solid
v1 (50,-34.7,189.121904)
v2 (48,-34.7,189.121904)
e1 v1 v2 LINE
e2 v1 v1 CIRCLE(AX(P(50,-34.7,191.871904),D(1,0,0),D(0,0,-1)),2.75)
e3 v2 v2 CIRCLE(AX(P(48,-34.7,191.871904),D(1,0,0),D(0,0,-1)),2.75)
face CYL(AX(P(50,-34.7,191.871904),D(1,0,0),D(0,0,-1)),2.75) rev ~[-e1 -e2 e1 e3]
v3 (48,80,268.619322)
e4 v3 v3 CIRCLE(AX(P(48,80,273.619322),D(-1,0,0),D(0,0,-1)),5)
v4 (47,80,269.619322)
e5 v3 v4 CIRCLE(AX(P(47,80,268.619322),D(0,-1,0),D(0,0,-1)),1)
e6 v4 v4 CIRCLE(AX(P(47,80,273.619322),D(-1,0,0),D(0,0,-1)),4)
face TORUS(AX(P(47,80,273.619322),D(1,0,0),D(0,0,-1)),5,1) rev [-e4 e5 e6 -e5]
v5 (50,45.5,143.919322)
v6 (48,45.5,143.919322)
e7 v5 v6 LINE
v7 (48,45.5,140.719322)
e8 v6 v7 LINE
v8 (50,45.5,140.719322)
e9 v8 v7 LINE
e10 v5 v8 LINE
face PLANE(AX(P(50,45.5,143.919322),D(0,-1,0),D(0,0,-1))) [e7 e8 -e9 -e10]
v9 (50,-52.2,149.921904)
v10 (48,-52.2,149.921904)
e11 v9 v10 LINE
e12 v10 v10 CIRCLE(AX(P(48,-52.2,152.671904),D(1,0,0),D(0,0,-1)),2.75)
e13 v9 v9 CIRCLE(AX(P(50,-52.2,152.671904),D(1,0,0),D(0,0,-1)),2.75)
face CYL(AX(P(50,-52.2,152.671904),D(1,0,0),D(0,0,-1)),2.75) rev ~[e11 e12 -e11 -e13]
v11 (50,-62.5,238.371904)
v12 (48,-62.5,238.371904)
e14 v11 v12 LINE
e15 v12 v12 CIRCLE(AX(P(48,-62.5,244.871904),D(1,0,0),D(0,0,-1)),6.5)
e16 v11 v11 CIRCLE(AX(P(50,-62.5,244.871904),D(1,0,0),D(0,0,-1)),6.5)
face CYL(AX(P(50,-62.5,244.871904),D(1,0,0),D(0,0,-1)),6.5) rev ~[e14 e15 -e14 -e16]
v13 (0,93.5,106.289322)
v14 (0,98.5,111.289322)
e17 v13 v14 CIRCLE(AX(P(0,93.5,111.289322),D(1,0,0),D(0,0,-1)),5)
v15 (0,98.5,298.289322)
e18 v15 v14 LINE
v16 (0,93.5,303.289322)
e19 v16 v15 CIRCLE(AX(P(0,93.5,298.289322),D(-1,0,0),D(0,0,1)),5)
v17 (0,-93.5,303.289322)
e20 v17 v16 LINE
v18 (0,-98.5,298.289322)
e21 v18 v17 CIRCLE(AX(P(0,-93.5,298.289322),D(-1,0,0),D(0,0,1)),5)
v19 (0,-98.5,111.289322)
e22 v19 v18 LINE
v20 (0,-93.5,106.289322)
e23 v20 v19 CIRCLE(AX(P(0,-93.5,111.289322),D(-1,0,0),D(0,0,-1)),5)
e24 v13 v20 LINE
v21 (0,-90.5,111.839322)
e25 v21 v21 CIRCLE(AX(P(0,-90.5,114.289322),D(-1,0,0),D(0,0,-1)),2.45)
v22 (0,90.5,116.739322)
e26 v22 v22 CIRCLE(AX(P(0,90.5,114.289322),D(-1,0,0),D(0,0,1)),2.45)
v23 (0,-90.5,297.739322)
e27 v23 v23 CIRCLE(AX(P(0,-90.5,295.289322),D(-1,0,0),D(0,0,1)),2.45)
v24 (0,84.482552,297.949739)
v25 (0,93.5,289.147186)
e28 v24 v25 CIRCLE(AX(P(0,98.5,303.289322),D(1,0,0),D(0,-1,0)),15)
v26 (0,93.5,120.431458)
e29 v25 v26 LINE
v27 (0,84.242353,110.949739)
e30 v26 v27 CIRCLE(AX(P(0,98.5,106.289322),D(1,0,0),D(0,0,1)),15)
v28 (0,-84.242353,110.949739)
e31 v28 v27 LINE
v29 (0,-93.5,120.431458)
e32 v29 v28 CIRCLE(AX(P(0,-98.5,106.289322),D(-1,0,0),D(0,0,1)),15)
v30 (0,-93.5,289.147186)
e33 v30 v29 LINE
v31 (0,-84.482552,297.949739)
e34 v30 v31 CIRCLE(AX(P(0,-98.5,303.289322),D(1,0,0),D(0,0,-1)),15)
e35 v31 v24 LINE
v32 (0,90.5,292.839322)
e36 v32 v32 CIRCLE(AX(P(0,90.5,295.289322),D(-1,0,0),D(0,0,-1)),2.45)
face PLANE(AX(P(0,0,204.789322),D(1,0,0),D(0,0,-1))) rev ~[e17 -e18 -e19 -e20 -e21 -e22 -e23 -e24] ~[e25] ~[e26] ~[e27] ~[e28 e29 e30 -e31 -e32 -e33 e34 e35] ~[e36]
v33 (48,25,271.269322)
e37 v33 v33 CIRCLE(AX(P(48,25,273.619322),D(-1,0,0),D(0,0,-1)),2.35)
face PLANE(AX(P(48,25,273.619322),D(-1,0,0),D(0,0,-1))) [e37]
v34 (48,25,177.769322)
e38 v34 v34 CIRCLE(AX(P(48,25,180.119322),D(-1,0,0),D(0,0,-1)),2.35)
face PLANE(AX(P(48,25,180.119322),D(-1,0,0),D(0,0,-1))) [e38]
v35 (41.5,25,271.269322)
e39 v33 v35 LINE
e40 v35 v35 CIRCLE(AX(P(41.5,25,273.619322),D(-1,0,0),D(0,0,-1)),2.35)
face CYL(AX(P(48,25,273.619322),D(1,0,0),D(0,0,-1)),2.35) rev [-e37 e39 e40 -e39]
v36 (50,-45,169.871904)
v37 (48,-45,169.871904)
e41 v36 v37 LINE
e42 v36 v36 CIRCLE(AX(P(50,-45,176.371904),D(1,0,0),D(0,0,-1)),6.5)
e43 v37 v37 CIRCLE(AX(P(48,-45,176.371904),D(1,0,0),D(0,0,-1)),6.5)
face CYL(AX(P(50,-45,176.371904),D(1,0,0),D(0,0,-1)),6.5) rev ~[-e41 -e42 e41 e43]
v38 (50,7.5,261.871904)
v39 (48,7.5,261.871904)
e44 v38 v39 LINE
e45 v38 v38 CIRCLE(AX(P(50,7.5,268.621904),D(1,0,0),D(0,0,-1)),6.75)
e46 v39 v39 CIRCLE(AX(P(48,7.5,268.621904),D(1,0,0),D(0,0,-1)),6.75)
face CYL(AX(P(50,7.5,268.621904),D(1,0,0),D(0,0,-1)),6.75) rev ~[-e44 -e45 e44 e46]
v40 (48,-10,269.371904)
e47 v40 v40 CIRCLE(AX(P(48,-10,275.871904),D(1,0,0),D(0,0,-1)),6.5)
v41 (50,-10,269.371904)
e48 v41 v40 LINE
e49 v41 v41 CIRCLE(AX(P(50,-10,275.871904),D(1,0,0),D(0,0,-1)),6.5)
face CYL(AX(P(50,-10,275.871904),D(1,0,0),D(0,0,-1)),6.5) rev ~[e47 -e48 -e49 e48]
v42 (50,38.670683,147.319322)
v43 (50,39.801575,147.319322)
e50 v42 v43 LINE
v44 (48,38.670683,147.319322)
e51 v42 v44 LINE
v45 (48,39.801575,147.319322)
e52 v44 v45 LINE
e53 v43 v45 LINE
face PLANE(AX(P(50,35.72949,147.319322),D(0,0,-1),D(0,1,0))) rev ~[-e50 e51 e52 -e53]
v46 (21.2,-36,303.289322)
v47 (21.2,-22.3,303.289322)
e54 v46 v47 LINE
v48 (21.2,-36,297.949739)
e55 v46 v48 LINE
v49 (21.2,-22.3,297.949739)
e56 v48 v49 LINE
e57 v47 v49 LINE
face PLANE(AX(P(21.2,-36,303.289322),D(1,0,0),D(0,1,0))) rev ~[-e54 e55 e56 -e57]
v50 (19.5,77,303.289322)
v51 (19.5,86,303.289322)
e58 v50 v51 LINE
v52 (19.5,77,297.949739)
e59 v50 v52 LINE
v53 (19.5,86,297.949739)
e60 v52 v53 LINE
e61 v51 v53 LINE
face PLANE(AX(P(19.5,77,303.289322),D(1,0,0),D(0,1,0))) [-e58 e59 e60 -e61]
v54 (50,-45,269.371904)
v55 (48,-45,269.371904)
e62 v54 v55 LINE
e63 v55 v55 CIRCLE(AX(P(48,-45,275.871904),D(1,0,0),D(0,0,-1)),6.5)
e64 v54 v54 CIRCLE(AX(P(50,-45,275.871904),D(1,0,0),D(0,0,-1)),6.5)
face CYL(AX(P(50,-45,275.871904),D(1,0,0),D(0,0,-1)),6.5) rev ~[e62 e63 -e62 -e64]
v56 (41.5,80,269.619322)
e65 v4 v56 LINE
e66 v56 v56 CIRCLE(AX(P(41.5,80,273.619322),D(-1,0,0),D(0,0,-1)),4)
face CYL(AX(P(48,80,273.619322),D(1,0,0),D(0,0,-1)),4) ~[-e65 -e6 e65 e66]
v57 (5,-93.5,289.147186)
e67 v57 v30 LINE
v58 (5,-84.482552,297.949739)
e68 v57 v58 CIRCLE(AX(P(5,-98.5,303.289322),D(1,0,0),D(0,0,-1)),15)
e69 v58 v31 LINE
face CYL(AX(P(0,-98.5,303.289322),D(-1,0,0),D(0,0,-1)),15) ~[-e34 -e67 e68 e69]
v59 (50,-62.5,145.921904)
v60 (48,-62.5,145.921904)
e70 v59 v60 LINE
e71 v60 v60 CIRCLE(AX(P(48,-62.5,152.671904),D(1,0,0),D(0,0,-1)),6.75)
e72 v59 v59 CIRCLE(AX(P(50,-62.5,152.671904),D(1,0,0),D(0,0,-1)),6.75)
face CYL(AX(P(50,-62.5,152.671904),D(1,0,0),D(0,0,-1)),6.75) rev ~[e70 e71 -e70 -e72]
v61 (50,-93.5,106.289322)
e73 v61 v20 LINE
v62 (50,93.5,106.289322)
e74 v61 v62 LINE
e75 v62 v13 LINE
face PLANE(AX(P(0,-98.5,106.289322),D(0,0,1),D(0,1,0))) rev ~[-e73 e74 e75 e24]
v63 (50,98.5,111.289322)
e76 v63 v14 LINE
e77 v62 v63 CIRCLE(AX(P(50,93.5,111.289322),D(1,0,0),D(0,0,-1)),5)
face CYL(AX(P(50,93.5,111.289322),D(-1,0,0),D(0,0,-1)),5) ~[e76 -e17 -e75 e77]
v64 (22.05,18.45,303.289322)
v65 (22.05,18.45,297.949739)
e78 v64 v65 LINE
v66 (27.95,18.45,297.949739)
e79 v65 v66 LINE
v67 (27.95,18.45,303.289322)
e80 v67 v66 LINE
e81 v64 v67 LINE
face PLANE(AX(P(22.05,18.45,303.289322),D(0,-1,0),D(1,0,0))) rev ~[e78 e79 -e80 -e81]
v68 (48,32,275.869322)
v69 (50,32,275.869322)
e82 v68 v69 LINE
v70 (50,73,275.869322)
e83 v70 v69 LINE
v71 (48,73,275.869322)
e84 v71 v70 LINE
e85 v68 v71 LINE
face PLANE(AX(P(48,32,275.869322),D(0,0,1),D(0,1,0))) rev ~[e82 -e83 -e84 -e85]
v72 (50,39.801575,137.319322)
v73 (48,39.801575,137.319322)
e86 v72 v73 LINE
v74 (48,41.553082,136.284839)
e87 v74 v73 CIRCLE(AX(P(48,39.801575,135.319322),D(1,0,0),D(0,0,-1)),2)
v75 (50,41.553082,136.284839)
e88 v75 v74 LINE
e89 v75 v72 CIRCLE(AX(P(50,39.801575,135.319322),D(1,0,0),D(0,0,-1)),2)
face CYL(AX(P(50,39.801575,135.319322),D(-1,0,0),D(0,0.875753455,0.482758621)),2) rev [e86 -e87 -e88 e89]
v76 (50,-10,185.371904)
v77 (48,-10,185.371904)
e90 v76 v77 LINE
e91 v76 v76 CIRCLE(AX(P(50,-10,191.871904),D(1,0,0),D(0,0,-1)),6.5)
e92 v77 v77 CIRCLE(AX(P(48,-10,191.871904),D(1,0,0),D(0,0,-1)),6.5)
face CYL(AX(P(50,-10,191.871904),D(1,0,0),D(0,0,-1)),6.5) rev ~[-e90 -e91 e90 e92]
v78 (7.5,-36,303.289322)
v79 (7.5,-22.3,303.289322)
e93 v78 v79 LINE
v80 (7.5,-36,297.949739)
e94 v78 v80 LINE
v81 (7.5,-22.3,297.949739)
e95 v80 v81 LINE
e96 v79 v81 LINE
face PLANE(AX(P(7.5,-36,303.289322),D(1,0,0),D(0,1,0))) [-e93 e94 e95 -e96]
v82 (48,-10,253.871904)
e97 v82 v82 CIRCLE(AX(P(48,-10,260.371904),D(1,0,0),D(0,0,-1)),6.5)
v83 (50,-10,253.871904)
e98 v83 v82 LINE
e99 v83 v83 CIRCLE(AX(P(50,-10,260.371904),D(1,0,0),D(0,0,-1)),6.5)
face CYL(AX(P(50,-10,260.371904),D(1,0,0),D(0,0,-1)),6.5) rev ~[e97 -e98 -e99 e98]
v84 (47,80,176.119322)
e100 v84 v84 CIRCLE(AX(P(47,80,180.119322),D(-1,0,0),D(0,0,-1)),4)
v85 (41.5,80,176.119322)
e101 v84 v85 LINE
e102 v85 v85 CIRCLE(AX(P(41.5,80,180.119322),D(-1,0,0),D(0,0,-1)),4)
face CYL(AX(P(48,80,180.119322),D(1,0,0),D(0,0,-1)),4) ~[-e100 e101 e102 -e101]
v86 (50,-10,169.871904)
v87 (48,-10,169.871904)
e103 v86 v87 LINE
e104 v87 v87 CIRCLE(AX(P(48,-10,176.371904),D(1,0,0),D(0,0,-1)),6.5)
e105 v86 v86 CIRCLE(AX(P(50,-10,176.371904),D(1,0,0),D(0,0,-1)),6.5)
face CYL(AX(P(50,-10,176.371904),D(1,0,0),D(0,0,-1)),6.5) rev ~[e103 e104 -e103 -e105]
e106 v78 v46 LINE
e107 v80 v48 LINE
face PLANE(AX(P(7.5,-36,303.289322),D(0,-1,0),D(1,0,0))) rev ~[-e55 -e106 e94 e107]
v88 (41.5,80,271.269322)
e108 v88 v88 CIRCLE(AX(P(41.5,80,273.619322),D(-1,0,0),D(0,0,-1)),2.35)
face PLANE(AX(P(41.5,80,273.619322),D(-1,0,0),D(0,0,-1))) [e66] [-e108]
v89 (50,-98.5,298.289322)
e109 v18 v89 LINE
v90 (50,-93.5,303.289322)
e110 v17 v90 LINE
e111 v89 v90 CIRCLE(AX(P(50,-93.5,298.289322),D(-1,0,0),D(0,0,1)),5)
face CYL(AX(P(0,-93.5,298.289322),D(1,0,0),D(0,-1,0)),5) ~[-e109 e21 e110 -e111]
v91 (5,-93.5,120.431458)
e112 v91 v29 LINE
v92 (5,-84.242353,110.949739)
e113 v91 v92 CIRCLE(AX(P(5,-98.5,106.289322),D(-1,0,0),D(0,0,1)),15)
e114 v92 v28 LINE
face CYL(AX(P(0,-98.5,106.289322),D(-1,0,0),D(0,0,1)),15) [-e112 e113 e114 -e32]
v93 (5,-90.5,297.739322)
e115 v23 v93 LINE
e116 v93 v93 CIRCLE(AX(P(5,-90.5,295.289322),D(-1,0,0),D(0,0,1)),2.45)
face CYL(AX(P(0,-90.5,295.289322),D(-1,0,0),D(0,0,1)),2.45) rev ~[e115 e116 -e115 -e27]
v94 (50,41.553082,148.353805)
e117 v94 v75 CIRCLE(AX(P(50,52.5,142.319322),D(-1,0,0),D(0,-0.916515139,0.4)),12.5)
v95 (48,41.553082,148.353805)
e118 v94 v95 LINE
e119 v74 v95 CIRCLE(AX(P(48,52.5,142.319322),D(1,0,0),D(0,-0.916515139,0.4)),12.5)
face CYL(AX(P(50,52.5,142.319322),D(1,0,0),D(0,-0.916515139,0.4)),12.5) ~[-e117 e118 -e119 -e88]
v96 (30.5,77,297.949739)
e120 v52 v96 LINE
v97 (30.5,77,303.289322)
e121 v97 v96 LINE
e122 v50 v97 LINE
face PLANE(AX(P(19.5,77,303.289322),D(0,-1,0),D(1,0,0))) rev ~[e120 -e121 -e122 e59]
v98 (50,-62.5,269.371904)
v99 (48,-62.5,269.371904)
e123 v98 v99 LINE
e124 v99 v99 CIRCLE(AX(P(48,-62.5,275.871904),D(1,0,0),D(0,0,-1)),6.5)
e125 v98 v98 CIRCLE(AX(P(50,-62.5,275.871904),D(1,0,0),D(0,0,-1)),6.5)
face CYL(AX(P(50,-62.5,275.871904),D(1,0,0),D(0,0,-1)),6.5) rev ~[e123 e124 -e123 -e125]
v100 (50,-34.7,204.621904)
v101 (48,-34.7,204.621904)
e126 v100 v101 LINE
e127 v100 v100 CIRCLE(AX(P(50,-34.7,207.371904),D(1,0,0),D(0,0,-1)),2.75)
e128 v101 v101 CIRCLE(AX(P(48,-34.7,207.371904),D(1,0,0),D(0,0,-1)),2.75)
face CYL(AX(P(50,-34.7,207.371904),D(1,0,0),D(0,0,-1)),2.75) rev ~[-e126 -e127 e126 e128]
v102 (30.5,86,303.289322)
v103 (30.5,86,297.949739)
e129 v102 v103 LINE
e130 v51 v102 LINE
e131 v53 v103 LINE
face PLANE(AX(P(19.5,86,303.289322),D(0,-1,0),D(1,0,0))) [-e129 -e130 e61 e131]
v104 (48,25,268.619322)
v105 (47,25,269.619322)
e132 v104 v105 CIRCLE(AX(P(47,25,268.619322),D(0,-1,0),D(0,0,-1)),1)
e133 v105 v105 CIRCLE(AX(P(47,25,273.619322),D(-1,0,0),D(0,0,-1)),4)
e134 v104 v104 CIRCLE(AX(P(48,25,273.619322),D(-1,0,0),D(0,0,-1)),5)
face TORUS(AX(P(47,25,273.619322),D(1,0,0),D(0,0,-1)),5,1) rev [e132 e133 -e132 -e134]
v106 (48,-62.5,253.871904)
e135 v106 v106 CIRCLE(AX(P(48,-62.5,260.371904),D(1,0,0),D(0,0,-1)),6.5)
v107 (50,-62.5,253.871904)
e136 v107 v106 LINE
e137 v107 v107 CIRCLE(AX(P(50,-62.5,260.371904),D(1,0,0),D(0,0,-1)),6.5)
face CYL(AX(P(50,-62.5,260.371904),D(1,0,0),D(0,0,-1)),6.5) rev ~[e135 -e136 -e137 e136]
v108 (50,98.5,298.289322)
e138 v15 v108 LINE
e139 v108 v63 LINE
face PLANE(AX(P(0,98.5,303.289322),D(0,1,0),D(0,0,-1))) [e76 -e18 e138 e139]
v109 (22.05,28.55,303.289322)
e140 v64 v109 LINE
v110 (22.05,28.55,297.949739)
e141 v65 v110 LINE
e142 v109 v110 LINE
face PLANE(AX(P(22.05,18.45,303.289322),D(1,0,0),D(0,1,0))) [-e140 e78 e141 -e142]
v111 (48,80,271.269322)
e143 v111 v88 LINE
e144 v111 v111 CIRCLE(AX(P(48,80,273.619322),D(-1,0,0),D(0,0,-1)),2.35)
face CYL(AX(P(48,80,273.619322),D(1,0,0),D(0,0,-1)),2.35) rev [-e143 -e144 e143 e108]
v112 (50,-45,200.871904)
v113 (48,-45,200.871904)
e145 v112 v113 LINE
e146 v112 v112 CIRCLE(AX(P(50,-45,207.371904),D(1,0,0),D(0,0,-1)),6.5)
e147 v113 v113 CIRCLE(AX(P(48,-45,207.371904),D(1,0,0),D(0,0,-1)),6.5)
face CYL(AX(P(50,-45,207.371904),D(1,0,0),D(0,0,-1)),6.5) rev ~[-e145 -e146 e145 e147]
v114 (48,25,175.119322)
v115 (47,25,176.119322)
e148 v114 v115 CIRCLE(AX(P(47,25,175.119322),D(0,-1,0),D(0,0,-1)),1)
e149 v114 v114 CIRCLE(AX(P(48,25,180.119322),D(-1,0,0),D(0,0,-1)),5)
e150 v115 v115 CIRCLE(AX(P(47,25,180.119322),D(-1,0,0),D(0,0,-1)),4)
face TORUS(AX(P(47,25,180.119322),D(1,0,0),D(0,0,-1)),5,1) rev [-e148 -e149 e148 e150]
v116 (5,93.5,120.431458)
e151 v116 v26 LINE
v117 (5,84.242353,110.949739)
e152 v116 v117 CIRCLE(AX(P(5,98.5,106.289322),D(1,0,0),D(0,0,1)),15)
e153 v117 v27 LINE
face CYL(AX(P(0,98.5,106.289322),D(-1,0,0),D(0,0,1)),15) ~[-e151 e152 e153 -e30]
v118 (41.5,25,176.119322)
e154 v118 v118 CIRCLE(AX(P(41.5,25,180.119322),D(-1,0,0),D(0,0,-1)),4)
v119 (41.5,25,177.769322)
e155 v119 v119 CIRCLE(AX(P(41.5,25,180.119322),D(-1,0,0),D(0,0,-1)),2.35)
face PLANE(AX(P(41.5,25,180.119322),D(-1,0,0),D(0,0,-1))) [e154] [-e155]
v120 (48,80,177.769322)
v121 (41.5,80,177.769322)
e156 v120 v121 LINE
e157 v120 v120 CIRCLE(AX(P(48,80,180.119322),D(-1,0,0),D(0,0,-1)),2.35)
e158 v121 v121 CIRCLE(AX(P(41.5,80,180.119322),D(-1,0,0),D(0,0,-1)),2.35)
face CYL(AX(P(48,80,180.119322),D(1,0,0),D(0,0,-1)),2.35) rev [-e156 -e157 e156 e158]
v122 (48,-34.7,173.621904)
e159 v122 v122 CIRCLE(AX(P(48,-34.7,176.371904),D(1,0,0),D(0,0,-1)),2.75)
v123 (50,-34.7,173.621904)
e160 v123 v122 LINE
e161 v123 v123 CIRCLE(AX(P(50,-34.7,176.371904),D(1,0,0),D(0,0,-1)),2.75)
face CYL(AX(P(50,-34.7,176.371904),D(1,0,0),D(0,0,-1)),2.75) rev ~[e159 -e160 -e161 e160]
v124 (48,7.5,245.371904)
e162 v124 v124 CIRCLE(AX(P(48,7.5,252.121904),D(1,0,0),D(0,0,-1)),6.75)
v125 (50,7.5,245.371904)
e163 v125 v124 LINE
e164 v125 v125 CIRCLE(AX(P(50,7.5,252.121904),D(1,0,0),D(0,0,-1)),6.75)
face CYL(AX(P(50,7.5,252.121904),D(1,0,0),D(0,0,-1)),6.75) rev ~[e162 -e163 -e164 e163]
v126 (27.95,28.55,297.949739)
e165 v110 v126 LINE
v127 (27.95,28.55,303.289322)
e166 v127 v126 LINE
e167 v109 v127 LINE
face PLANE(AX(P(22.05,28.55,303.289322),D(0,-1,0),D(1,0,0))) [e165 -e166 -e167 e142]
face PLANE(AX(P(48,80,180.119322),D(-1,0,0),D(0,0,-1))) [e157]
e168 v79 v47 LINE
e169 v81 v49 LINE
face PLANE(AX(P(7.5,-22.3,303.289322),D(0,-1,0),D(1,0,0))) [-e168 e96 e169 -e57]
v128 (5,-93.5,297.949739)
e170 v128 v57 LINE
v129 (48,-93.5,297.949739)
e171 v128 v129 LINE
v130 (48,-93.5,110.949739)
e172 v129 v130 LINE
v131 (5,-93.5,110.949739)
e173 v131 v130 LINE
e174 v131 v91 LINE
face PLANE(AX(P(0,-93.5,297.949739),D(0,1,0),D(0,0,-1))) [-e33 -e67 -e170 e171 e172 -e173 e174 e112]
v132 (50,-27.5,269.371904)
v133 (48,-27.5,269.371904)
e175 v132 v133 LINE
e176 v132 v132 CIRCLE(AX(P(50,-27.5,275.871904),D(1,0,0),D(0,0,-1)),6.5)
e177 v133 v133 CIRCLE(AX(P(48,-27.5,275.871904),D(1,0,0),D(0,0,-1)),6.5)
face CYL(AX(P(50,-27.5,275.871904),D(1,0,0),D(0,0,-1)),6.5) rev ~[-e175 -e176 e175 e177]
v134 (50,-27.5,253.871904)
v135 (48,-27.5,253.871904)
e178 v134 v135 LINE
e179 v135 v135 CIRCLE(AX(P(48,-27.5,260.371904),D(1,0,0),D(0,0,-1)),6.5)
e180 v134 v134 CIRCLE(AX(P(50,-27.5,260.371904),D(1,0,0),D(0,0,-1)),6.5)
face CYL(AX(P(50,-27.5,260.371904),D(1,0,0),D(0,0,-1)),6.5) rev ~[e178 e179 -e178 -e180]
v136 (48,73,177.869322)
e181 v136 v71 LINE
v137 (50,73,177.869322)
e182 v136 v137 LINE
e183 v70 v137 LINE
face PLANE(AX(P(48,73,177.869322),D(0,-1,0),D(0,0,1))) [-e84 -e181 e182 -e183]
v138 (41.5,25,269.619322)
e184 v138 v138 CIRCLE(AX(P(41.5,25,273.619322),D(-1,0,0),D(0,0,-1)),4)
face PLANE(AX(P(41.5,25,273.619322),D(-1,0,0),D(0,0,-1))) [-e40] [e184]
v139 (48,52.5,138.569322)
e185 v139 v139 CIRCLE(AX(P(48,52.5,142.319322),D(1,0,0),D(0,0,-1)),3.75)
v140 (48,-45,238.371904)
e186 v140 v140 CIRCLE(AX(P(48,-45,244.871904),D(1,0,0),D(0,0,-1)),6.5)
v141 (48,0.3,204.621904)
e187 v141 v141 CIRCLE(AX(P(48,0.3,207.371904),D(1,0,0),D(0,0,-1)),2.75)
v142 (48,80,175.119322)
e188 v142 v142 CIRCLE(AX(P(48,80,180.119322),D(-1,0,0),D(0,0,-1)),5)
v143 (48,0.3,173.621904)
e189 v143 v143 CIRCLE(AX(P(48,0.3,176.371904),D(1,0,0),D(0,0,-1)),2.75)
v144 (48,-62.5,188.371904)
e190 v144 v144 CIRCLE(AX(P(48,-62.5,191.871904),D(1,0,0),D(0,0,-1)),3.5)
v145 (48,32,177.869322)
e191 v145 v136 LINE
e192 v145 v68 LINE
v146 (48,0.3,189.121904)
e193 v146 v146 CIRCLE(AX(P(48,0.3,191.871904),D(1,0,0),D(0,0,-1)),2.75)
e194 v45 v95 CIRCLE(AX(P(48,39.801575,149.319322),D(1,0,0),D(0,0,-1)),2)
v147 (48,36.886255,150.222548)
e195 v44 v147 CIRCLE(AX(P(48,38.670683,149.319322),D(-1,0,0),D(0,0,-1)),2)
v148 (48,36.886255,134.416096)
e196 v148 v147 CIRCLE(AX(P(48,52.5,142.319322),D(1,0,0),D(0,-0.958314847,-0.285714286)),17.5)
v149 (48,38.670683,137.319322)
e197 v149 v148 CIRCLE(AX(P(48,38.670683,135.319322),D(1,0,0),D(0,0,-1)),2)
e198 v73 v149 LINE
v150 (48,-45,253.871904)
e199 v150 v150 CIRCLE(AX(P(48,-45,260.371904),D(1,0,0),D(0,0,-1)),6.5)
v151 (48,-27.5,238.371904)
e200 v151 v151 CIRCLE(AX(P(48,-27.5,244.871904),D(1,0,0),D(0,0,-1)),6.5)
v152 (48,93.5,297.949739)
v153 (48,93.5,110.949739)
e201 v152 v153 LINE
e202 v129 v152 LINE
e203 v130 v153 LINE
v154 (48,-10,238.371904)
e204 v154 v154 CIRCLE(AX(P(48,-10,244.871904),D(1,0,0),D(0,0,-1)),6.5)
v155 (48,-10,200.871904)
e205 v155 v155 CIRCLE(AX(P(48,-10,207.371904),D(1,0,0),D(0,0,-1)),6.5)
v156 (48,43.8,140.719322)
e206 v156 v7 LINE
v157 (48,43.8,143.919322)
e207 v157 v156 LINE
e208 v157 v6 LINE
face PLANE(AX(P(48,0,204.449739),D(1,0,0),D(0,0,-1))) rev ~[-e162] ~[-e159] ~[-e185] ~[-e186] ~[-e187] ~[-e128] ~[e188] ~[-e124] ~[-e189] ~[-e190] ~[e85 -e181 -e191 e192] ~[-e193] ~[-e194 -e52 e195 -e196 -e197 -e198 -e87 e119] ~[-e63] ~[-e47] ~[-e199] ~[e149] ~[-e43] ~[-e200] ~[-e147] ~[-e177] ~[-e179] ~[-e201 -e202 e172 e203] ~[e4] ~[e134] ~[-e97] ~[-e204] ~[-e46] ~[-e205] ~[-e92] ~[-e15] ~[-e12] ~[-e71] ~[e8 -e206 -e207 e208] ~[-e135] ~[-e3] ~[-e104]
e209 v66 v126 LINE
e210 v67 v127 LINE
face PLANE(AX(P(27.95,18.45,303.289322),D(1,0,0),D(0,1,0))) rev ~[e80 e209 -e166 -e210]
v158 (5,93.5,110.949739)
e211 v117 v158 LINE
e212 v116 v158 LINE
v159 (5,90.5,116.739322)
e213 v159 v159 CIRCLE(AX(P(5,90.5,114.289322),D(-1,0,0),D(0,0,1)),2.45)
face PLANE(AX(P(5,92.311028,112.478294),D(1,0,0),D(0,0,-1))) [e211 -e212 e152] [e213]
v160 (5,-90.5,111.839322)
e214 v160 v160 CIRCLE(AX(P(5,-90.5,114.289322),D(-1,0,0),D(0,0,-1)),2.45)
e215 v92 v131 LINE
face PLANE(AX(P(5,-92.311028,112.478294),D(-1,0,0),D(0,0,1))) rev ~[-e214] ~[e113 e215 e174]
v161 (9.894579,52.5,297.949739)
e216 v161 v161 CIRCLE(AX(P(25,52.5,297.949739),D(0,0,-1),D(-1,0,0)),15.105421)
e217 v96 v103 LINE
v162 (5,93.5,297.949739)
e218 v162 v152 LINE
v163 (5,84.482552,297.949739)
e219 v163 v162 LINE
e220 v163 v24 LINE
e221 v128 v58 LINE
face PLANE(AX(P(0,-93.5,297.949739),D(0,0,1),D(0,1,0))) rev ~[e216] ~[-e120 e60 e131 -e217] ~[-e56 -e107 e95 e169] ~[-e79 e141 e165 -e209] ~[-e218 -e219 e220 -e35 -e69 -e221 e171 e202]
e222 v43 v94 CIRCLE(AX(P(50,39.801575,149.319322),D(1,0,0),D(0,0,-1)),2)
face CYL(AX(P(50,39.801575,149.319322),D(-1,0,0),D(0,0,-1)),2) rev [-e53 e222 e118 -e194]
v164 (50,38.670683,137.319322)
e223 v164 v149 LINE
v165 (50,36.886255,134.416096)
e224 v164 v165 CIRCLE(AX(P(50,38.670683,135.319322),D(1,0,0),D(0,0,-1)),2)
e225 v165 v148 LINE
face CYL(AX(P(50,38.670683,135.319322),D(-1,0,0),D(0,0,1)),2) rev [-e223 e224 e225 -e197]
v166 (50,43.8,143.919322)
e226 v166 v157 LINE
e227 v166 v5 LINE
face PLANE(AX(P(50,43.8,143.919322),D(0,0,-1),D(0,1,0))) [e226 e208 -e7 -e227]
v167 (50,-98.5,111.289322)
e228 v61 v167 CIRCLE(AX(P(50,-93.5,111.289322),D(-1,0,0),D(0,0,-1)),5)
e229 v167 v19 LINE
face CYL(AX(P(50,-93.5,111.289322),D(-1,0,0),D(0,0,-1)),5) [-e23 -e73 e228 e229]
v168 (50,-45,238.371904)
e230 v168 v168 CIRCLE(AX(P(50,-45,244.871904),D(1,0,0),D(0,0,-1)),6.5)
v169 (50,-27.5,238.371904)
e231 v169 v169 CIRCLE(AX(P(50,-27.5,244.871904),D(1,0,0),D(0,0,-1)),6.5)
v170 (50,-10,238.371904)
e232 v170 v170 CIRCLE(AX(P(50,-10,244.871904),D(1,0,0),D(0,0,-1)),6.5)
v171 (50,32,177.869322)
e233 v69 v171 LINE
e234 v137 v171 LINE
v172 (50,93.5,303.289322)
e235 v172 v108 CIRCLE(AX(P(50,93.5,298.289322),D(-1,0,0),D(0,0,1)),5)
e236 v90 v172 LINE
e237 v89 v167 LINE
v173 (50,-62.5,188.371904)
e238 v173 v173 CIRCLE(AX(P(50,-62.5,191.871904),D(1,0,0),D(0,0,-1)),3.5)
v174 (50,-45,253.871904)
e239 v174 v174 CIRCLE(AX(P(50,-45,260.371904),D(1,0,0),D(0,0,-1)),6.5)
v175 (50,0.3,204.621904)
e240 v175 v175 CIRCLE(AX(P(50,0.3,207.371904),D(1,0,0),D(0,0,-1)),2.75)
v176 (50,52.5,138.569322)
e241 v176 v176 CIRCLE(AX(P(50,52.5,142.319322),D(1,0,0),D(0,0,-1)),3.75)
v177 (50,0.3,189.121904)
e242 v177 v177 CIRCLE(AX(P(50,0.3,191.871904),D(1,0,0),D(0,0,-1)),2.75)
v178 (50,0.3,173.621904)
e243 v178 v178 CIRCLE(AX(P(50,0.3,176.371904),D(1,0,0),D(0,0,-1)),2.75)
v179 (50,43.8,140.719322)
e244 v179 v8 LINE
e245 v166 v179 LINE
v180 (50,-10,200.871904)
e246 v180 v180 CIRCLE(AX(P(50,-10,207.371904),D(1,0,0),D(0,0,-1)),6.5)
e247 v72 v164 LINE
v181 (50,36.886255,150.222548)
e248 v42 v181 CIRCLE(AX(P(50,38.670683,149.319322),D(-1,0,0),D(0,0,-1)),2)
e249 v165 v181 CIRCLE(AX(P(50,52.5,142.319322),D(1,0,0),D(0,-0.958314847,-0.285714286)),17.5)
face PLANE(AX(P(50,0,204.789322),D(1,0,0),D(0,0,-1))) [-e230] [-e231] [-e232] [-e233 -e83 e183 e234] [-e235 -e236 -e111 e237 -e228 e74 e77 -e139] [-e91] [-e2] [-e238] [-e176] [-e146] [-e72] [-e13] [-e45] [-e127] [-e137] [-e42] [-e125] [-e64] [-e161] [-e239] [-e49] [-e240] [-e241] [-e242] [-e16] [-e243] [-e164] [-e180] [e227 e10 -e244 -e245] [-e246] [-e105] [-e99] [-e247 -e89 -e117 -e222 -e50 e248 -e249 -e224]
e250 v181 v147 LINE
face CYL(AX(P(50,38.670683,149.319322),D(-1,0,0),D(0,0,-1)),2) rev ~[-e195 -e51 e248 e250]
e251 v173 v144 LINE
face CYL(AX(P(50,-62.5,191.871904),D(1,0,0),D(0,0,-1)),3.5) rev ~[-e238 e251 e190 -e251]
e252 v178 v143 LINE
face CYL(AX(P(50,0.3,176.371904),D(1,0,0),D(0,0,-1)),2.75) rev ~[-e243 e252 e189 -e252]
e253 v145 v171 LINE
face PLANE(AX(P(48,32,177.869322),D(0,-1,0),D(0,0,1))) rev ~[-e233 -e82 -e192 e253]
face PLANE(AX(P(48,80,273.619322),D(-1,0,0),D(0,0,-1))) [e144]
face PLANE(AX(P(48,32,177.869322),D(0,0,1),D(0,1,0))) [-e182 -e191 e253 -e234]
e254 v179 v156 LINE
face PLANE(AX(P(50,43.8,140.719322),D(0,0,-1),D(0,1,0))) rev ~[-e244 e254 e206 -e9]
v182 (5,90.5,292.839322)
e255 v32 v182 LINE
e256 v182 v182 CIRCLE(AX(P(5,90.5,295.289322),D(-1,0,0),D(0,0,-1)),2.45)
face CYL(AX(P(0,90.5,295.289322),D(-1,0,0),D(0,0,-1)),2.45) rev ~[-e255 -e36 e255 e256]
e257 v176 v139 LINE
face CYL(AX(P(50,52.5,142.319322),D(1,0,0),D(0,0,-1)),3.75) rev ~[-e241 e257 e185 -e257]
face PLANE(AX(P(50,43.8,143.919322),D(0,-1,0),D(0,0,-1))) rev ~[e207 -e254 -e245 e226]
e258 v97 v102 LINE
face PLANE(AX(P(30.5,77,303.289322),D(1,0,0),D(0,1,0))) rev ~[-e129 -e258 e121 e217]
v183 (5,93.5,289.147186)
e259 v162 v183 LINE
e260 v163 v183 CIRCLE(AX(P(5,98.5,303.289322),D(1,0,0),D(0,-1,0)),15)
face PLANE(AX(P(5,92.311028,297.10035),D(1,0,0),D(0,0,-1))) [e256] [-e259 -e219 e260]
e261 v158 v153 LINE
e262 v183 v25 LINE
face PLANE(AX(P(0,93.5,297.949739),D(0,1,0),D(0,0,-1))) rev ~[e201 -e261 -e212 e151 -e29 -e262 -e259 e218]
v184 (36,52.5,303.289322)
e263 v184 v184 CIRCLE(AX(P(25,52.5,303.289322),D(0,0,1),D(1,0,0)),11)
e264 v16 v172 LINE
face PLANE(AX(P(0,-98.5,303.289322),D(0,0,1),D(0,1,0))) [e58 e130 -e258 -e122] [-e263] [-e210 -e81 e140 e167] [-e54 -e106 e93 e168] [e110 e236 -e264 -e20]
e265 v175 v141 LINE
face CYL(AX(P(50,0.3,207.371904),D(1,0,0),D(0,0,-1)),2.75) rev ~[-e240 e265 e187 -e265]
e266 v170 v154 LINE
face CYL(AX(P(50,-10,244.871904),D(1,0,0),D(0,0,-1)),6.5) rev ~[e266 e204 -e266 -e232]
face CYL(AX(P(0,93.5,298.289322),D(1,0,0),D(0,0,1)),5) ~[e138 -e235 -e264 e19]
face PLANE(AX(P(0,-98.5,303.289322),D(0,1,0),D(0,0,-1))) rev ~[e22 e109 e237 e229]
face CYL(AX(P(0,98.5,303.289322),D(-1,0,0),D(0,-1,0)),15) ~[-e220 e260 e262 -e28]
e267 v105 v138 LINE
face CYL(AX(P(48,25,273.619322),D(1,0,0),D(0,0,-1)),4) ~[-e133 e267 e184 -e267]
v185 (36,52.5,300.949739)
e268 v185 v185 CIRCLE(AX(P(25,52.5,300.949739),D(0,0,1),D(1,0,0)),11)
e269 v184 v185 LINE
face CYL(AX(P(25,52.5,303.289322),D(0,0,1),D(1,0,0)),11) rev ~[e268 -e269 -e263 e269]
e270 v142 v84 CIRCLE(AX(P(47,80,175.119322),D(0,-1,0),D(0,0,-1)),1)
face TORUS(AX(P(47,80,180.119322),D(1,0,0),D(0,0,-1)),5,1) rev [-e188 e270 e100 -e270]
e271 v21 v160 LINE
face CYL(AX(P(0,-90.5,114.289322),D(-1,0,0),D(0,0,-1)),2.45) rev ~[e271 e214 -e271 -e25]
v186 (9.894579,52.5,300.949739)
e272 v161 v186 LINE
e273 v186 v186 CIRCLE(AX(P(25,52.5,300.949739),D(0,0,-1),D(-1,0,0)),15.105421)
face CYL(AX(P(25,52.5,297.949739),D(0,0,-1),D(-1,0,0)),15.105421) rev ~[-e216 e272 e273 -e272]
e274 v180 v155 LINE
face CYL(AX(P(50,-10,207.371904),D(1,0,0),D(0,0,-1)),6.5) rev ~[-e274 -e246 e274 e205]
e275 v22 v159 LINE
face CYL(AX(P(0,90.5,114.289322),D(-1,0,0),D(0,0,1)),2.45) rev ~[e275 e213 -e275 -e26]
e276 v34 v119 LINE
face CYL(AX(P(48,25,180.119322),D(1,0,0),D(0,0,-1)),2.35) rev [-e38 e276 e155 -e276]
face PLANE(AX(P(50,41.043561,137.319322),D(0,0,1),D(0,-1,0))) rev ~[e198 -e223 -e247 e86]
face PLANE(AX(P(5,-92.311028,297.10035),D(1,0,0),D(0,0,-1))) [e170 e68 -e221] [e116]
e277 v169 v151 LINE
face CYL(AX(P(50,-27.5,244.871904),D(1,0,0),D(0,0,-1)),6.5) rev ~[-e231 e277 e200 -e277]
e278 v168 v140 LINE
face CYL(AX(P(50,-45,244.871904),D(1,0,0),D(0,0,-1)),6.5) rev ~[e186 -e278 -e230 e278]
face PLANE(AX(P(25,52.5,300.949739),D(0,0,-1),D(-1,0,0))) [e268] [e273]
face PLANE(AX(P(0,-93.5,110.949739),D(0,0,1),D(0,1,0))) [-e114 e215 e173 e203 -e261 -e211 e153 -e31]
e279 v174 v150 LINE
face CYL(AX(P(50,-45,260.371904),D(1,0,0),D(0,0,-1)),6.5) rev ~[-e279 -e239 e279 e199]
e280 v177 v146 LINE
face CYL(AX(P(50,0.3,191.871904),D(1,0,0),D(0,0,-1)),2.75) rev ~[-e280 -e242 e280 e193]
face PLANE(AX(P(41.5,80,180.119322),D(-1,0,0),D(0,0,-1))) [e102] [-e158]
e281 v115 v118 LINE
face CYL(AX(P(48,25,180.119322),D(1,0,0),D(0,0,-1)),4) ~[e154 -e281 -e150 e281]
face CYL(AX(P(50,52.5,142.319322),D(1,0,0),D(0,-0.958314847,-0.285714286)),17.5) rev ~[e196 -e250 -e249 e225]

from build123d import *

# Parameters (mm, degrees)
SKETCH1_W           = 197
SKETCH1_H           = 197
BOSS_EXTRUDE1_DEPTH = 50
SKETCH6_W           = 187
SKETCH6_H           = 187
CUT_EXTRUDE1_DEPTH  = 48
SKETCH8_W           = 98
SKETCH8_H           = 41
CUT_EXTRUDE2_DEPTH  = 25
SKETCH9_R           = 4
BOSS_EXTRUDE2_DEPTH = 6.5
FILLET3_R           = 1
SKETCH15_R          = 6.5
SKETCH15_R_2        = 6.75
SKETCH15_R_3        = 2.75
SKETCH15_R_4        = 3.5
CUT_EXTRUDE7_DEPTH  = 10
SKETCH12_R          = 3.75
SKETCH12_W          = 3.2
SKETCH12_H          = 1.7
CUT_EXTRUDE8_DEPTH  = 10
SKETCH18_R          = 11
CUT_EXTRUDE10_DEPTH = 6
SKETCH19_W          = 11
SKETCH19_H          = 9
SKETCH19_W_2        = 5.9
SKETCH19_H_2        = 10.1
CUT_EXTRUDE11_DEPTH = 6
FILLET6_R           = 2
SKETCH21_R          = 2.45
BOSS_EXTRUDE4_DEPTH = 5
FILLET7_R           = 5
SKETCH22_W          = 13.7
SKETCH22_H          = 13.7
CUT_EXTRUDE14_DEPTH = 10
SKETCH27_R          = 15.105421197
CUT_EXTRUDE17_DEPTH = 3
SKETCH28_R          = 2.35
CUT_EXTRUDE18_DEPTH = 6.5


with BuildPart() as part:
    # Sketch1 → Boss-Extrude1 (new body)
    with BuildSketch(Plane(origin=(0, 0, 0), x_dir=(0, 0, -1), z_dir=(1, 0, 0))):
        with Locations((-204.789321881, 0)):
            Rectangle(SKETCH1_W, SKETCH1_H)
    extrude(amount=BOSS_EXTRUDE1_DEPTH)

    # Sketch6 → Cut-Extrude1 (cut)
    with BuildSketch(Plane(origin=(0, 0, 0), x_dir=(0, 0, -1), z_dir=(1, 0, 0))):
        with Locations((-204.449739467, 0)):
            Rectangle(SKETCH6_W, SKETCH6_H)
    extrude(amount=CUT_EXTRUDE1_DEPTH, mode=Mode.SUBTRACT)

    # Sketch8 → Cut-Extrude2 (cut)
    with BuildSketch(Plane.ZY.offset(-48)):
        with Locations((226.869321881, 52.5)):
            Rectangle(SKETCH8_W, SKETCH8_H)
    extrude(amount=-CUT_EXTRUDE2_DEPTH, mode=Mode.SUBTRACT)

    # Sketch9 → Boss-Extrude2 (add)
    with BuildSketch(Plane.ZY.offset(-48)):
        with Locations(Location((180.119321881, 25, 0), (0, 0, 180))):
            Circle(SKETCH9_R)
        with Locations(Location((180.119321881, 80, 0), (0, 0, 180))):
            Circle(SKETCH9_R)
        with Locations(Location((273.619321881, 80, 0), (0, 0, 180))):
            Circle(SKETCH9_R)
        with Locations(Location((273.619321881, 25, 0), (0, 0, 180))):
            Circle(SKETCH9_R)
    extrude(amount=BOSS_EXTRUDE2_DEPTH)

    # Fillet3
    fillet3_edges = [part.edges().sort_by_distance(p)[0] for p in [
        (48, 25, 184.119321881),
        (48, 80, 184.119321881),
        (48, 80, 277.619321881),
        (48, 25, 277.619321881),
    ]]
    fillet(fillet3_edges, radius=FILLET3_R)

    # Sketch15 → Cut-Extrude7 (cut)
    with BuildSketch(Plane(origin=(50, 0, 0), x_dir=(0, 0, -1), z_dir=(1, 0, 0))):
        with Locations((-275.871904419, -62.5)):
            Circle(SKETCH15_R)
        with Locations((-275.871904419, -45)):
            Circle(SKETCH15_R)
        with Locations((-275.871904419, -27.5)):
            Circle(SKETCH15_R)
        with Locations((-275.871904419, -10)):
            Circle(SKETCH15_R)
        with Locations((-260.371904419, -62.5)):
            Circle(SKETCH15_R)
        with Locations((-260.371904419, -45)):
            Circle(SKETCH15_R)
        with Locations((-260.371904419, -27.5)):
            Circle(SKETCH15_R)
        with Locations((-260.371904419, -10)):
            Circle(SKETCH15_R)
        with Locations((-244.871904419, -62.5)):
            Circle(SKETCH15_R)
        with Locations((-244.871904419, -45)):
            Circle(SKETCH15_R)
        with Locations((-244.871904419, -27.5)):
            Circle(SKETCH15_R)
        with Locations((-244.871904419, -10)):
            Circle(SKETCH15_R)
        with Locations((-268.621904419, 7.5)):
            Circle(SKETCH15_R_2)
        with Locations((-252.121904419, 7.5)):
            Circle(SKETCH15_R_2)
        with Locations((-207.371904419, -10)):
            Circle(SKETCH15_R)
        with Locations((-191.871904419, -10)):
            Circle(SKETCH15_R)
        with Locations((-176.371904419, -10)):
            Circle(SKETCH15_R)
        with Locations((-207.371904419, -45)):
            Circle(SKETCH15_R)
        with Locations((-176.371904419, -45)):
            Circle(SKETCH15_R)
        with Locations((-176.371904419, -34.7)):
            Circle(SKETCH15_R_3)
        with Locations((-207.371904419, -34.7)):
            Circle(SKETCH15_R_3)
        with Locations((-207.371904419, 0.3)):
            Circle(SKETCH15_R_3)
        with Locations((-191.871904419, 0.3)):
            Circle(SKETCH15_R_3)
        with Locations((-176.371904419, 0.3)):
            Circle(SKETCH15_R_3)
        with Locations((-152.671904419, -52.2)):
            Circle(SKETCH15_R_3)
        with Locations((-191.871904419, -62.5)):
            Circle(SKETCH15_R_4)
        with Locations((-191.871904419, -34.7)):
            Circle(SKETCH15_R_3)
        with Locations((-152.671904419, -62.5)):
            Circle(SKETCH15_R_2)
    extrude(amount=-CUT_EXTRUDE7_DEPTH, mode=Mode.SUBTRACT)

    # Sketch12 → Cut-Extrude8 (cut)
    with BuildSketch(Plane(origin=(50, 0, 0), x_dir=(0, 0, -1), z_dir=(1, 0, 0))):
        with Locations((-142.319321881, 52.5)):
            Circle(SKETCH12_R)
        with BuildLine():
            Line((-147.319321881, 35.729490169), (-147.319321881, 41.043560763))
            ThreePointArc((-147.319321881, 41.043560763), (-142.319321881, 65), (-137.319321881, 41.043560763))
            Line((-137.319321881, 41.043560763), (-137.319321881, 35.729490169))
            ThreePointArc((-137.319321881, 35.729490169), (-142.319321881, 70), (-147.319321881, 35.729490169))
        make_face()
        with Locations((-142.319321881, 44.65)):
            Rectangle(SKETCH12_W, SKETCH12_H)
    extrude(amount=-CUT_EXTRUDE8_DEPTH, mode=Mode.SUBTRACT)

    # Sketch18 → Cut-Extrude10 (cut)
    with BuildSketch(Plane.XY.offset(303.289321881)):
        with Locations((25, 52.5)):
            Circle(SKETCH18_R)
    extrude(amount=-CUT_EXTRUDE10_DEPTH, mode=Mode.SUBTRACT)

    # Sketch19 → Cut-Extrude11 (cut)
    with BuildSketch(Plane.XY.offset(303.289321881)):
        with Locations((25, 81.5)):
            Rectangle(SKETCH19_W, SKETCH19_H)
        with Locations((25, 23.5)):
            Rectangle(SKETCH19_W_2, SKETCH19_H_2)
    extrude(amount=-CUT_EXTRUDE11_DEPTH, mode=Mode.SUBTRACT)

    # Fillet6
    fillet6_edges = [part.edges().sort_by_distance(p)[0] for p in [
        (49, 35.729490169, 147.319321881),
        (49, 35.729490169, 137.319321881),
        (49, 41.043560763, 137.319321881),
        (49, 41.043560763, 147.319321881),
    ]]
    fillet(fillet6_edges, radius=FILLET6_R)

    # Sketch21 → Boss-Extrude4 (add)
    # profile 1 of 4: a face of its own
    with BuildSketch(Plane.ZY):
        with BuildLine():
            Line((106.289321881, 98.5), (121.289321881, 98.5))
            ThreePointArc((121.289321881, 98.5), (116.895923599, 87.893398282), (106.289321881, 83.5))
            Line((106.289321881, 83.5), (106.289321881, 98.5))
        make_face()
        with Locations((114.289321881, 90.5)):
            Circle(SKETCH21_R, mode=Mode.SUBTRACT)
    # profile 2 of 4: a face of its own
    with BuildSketch(Plane.ZY):
        with BuildLine():
            Line((106.289321881, -98.5), (121.289321881, -98.5))
            ThreePointArc((121.289321881, -98.5), (116.895923599, -87.893398282), (106.289321881, -83.5))
            Line((106.289321881, -83.5), (106.289321881, -98.5))
        make_face()
        with Locations(Location((114.289321881, -90.5, 0), (0, 0, 180))):
            Circle(SKETCH21_R, mode=Mode.SUBTRACT)
    # profile 3 of 4: a face of its own
    with BuildSketch(Plane.ZY):
        with BuildLine():
            Line((303.289321881, -98.5), (288.289321881, -98.5))
            ThreePointArc((288.289321881, -98.5), (292.682720164, -87.893398282), (303.289321881, -83.5))
            Line((303.289321881, -83.5), (303.289321881, -98.5))
        make_face()
        with Locations((295.289321881, -90.5)):
            Circle(SKETCH21_R, mode=Mode.SUBTRACT)
    # profile 4 of 4: a face of its own
    with BuildSketch(Plane.ZY):
        with BuildLine():
            Line((303.289321881, 98.5), (303.289321881, 83.5))
            ThreePointArc((303.289321881, 83.5), (292.682720164, 87.893398282), (288.289321881, 98.5))
            Line((288.289321881, 98.5), (303.289321881, 98.5))
        make_face()
        with Locations(Location((295.289321881, 90.5, 0), (0, 0, 180))):
            Circle(SKETCH21_R, mode=Mode.SUBTRACT)
    extrude(amount=-BOSS_EXTRUDE4_DEPTH)

    # Fillet7
    fillet7_edges = [part.edges().sort_by_distance(p)[0] for p in [
        (25, 98.5, 303.289321881),
        (25, 98.5, 106.289321881),
        (25, -98.5, 106.289321881),
        (25, -98.5, 303.289321881),
    ]]
    fillet(fillet7_edges, radius=FILLET7_R)

    # Sketch22 → Cut-Extrude14 (cut)
    with BuildSketch(Plane.XY.offset(303.289321881)):
        with Locations((14.35, -29.15)):
            Rectangle(SKETCH22_W, SKETCH22_H)
    extrude(amount=-CUT_EXTRUDE14_DEPTH, mode=Mode.SUBTRACT)

    # Sketch27 → Cut-Extrude17 (cut)
    with BuildSketch(Plane(origin=(0, 0, 297.949739467), x_dir=(-1, 0, 0), z_dir=(0, 0, -1))):
        with Locations((-25, 52.5)):
            Circle(SKETCH27_R)
    extrude(amount=-CUT_EXTRUDE17_DEPTH, mode=Mode.SUBTRACT)

    # Sketch28 → Cut-Extrude18 (cut)
    with BuildSketch(Plane.ZY.offset(-48)):
        with Locations(Location((180.119321881, 80, 0), (0, 0, 180))):
            Circle(SKETCH28_R)
        with Locations(Location((180.119321881, 25, 0), (0, 0, 180))):
            Circle(SKETCH28_R)
        with Locations(Location((273.619321881, 80, 0), (0, 0, 180))):
            Circle(SKETCH28_R)
        with Locations(Location((273.619321881, 25, 0), (0, 0, 180))):
            Circle(SKETCH28_R)
    extrude(amount=CUT_EXTRUDE18_DEPTH, mode=Mode.SUBTRACT)


solid = part.part
